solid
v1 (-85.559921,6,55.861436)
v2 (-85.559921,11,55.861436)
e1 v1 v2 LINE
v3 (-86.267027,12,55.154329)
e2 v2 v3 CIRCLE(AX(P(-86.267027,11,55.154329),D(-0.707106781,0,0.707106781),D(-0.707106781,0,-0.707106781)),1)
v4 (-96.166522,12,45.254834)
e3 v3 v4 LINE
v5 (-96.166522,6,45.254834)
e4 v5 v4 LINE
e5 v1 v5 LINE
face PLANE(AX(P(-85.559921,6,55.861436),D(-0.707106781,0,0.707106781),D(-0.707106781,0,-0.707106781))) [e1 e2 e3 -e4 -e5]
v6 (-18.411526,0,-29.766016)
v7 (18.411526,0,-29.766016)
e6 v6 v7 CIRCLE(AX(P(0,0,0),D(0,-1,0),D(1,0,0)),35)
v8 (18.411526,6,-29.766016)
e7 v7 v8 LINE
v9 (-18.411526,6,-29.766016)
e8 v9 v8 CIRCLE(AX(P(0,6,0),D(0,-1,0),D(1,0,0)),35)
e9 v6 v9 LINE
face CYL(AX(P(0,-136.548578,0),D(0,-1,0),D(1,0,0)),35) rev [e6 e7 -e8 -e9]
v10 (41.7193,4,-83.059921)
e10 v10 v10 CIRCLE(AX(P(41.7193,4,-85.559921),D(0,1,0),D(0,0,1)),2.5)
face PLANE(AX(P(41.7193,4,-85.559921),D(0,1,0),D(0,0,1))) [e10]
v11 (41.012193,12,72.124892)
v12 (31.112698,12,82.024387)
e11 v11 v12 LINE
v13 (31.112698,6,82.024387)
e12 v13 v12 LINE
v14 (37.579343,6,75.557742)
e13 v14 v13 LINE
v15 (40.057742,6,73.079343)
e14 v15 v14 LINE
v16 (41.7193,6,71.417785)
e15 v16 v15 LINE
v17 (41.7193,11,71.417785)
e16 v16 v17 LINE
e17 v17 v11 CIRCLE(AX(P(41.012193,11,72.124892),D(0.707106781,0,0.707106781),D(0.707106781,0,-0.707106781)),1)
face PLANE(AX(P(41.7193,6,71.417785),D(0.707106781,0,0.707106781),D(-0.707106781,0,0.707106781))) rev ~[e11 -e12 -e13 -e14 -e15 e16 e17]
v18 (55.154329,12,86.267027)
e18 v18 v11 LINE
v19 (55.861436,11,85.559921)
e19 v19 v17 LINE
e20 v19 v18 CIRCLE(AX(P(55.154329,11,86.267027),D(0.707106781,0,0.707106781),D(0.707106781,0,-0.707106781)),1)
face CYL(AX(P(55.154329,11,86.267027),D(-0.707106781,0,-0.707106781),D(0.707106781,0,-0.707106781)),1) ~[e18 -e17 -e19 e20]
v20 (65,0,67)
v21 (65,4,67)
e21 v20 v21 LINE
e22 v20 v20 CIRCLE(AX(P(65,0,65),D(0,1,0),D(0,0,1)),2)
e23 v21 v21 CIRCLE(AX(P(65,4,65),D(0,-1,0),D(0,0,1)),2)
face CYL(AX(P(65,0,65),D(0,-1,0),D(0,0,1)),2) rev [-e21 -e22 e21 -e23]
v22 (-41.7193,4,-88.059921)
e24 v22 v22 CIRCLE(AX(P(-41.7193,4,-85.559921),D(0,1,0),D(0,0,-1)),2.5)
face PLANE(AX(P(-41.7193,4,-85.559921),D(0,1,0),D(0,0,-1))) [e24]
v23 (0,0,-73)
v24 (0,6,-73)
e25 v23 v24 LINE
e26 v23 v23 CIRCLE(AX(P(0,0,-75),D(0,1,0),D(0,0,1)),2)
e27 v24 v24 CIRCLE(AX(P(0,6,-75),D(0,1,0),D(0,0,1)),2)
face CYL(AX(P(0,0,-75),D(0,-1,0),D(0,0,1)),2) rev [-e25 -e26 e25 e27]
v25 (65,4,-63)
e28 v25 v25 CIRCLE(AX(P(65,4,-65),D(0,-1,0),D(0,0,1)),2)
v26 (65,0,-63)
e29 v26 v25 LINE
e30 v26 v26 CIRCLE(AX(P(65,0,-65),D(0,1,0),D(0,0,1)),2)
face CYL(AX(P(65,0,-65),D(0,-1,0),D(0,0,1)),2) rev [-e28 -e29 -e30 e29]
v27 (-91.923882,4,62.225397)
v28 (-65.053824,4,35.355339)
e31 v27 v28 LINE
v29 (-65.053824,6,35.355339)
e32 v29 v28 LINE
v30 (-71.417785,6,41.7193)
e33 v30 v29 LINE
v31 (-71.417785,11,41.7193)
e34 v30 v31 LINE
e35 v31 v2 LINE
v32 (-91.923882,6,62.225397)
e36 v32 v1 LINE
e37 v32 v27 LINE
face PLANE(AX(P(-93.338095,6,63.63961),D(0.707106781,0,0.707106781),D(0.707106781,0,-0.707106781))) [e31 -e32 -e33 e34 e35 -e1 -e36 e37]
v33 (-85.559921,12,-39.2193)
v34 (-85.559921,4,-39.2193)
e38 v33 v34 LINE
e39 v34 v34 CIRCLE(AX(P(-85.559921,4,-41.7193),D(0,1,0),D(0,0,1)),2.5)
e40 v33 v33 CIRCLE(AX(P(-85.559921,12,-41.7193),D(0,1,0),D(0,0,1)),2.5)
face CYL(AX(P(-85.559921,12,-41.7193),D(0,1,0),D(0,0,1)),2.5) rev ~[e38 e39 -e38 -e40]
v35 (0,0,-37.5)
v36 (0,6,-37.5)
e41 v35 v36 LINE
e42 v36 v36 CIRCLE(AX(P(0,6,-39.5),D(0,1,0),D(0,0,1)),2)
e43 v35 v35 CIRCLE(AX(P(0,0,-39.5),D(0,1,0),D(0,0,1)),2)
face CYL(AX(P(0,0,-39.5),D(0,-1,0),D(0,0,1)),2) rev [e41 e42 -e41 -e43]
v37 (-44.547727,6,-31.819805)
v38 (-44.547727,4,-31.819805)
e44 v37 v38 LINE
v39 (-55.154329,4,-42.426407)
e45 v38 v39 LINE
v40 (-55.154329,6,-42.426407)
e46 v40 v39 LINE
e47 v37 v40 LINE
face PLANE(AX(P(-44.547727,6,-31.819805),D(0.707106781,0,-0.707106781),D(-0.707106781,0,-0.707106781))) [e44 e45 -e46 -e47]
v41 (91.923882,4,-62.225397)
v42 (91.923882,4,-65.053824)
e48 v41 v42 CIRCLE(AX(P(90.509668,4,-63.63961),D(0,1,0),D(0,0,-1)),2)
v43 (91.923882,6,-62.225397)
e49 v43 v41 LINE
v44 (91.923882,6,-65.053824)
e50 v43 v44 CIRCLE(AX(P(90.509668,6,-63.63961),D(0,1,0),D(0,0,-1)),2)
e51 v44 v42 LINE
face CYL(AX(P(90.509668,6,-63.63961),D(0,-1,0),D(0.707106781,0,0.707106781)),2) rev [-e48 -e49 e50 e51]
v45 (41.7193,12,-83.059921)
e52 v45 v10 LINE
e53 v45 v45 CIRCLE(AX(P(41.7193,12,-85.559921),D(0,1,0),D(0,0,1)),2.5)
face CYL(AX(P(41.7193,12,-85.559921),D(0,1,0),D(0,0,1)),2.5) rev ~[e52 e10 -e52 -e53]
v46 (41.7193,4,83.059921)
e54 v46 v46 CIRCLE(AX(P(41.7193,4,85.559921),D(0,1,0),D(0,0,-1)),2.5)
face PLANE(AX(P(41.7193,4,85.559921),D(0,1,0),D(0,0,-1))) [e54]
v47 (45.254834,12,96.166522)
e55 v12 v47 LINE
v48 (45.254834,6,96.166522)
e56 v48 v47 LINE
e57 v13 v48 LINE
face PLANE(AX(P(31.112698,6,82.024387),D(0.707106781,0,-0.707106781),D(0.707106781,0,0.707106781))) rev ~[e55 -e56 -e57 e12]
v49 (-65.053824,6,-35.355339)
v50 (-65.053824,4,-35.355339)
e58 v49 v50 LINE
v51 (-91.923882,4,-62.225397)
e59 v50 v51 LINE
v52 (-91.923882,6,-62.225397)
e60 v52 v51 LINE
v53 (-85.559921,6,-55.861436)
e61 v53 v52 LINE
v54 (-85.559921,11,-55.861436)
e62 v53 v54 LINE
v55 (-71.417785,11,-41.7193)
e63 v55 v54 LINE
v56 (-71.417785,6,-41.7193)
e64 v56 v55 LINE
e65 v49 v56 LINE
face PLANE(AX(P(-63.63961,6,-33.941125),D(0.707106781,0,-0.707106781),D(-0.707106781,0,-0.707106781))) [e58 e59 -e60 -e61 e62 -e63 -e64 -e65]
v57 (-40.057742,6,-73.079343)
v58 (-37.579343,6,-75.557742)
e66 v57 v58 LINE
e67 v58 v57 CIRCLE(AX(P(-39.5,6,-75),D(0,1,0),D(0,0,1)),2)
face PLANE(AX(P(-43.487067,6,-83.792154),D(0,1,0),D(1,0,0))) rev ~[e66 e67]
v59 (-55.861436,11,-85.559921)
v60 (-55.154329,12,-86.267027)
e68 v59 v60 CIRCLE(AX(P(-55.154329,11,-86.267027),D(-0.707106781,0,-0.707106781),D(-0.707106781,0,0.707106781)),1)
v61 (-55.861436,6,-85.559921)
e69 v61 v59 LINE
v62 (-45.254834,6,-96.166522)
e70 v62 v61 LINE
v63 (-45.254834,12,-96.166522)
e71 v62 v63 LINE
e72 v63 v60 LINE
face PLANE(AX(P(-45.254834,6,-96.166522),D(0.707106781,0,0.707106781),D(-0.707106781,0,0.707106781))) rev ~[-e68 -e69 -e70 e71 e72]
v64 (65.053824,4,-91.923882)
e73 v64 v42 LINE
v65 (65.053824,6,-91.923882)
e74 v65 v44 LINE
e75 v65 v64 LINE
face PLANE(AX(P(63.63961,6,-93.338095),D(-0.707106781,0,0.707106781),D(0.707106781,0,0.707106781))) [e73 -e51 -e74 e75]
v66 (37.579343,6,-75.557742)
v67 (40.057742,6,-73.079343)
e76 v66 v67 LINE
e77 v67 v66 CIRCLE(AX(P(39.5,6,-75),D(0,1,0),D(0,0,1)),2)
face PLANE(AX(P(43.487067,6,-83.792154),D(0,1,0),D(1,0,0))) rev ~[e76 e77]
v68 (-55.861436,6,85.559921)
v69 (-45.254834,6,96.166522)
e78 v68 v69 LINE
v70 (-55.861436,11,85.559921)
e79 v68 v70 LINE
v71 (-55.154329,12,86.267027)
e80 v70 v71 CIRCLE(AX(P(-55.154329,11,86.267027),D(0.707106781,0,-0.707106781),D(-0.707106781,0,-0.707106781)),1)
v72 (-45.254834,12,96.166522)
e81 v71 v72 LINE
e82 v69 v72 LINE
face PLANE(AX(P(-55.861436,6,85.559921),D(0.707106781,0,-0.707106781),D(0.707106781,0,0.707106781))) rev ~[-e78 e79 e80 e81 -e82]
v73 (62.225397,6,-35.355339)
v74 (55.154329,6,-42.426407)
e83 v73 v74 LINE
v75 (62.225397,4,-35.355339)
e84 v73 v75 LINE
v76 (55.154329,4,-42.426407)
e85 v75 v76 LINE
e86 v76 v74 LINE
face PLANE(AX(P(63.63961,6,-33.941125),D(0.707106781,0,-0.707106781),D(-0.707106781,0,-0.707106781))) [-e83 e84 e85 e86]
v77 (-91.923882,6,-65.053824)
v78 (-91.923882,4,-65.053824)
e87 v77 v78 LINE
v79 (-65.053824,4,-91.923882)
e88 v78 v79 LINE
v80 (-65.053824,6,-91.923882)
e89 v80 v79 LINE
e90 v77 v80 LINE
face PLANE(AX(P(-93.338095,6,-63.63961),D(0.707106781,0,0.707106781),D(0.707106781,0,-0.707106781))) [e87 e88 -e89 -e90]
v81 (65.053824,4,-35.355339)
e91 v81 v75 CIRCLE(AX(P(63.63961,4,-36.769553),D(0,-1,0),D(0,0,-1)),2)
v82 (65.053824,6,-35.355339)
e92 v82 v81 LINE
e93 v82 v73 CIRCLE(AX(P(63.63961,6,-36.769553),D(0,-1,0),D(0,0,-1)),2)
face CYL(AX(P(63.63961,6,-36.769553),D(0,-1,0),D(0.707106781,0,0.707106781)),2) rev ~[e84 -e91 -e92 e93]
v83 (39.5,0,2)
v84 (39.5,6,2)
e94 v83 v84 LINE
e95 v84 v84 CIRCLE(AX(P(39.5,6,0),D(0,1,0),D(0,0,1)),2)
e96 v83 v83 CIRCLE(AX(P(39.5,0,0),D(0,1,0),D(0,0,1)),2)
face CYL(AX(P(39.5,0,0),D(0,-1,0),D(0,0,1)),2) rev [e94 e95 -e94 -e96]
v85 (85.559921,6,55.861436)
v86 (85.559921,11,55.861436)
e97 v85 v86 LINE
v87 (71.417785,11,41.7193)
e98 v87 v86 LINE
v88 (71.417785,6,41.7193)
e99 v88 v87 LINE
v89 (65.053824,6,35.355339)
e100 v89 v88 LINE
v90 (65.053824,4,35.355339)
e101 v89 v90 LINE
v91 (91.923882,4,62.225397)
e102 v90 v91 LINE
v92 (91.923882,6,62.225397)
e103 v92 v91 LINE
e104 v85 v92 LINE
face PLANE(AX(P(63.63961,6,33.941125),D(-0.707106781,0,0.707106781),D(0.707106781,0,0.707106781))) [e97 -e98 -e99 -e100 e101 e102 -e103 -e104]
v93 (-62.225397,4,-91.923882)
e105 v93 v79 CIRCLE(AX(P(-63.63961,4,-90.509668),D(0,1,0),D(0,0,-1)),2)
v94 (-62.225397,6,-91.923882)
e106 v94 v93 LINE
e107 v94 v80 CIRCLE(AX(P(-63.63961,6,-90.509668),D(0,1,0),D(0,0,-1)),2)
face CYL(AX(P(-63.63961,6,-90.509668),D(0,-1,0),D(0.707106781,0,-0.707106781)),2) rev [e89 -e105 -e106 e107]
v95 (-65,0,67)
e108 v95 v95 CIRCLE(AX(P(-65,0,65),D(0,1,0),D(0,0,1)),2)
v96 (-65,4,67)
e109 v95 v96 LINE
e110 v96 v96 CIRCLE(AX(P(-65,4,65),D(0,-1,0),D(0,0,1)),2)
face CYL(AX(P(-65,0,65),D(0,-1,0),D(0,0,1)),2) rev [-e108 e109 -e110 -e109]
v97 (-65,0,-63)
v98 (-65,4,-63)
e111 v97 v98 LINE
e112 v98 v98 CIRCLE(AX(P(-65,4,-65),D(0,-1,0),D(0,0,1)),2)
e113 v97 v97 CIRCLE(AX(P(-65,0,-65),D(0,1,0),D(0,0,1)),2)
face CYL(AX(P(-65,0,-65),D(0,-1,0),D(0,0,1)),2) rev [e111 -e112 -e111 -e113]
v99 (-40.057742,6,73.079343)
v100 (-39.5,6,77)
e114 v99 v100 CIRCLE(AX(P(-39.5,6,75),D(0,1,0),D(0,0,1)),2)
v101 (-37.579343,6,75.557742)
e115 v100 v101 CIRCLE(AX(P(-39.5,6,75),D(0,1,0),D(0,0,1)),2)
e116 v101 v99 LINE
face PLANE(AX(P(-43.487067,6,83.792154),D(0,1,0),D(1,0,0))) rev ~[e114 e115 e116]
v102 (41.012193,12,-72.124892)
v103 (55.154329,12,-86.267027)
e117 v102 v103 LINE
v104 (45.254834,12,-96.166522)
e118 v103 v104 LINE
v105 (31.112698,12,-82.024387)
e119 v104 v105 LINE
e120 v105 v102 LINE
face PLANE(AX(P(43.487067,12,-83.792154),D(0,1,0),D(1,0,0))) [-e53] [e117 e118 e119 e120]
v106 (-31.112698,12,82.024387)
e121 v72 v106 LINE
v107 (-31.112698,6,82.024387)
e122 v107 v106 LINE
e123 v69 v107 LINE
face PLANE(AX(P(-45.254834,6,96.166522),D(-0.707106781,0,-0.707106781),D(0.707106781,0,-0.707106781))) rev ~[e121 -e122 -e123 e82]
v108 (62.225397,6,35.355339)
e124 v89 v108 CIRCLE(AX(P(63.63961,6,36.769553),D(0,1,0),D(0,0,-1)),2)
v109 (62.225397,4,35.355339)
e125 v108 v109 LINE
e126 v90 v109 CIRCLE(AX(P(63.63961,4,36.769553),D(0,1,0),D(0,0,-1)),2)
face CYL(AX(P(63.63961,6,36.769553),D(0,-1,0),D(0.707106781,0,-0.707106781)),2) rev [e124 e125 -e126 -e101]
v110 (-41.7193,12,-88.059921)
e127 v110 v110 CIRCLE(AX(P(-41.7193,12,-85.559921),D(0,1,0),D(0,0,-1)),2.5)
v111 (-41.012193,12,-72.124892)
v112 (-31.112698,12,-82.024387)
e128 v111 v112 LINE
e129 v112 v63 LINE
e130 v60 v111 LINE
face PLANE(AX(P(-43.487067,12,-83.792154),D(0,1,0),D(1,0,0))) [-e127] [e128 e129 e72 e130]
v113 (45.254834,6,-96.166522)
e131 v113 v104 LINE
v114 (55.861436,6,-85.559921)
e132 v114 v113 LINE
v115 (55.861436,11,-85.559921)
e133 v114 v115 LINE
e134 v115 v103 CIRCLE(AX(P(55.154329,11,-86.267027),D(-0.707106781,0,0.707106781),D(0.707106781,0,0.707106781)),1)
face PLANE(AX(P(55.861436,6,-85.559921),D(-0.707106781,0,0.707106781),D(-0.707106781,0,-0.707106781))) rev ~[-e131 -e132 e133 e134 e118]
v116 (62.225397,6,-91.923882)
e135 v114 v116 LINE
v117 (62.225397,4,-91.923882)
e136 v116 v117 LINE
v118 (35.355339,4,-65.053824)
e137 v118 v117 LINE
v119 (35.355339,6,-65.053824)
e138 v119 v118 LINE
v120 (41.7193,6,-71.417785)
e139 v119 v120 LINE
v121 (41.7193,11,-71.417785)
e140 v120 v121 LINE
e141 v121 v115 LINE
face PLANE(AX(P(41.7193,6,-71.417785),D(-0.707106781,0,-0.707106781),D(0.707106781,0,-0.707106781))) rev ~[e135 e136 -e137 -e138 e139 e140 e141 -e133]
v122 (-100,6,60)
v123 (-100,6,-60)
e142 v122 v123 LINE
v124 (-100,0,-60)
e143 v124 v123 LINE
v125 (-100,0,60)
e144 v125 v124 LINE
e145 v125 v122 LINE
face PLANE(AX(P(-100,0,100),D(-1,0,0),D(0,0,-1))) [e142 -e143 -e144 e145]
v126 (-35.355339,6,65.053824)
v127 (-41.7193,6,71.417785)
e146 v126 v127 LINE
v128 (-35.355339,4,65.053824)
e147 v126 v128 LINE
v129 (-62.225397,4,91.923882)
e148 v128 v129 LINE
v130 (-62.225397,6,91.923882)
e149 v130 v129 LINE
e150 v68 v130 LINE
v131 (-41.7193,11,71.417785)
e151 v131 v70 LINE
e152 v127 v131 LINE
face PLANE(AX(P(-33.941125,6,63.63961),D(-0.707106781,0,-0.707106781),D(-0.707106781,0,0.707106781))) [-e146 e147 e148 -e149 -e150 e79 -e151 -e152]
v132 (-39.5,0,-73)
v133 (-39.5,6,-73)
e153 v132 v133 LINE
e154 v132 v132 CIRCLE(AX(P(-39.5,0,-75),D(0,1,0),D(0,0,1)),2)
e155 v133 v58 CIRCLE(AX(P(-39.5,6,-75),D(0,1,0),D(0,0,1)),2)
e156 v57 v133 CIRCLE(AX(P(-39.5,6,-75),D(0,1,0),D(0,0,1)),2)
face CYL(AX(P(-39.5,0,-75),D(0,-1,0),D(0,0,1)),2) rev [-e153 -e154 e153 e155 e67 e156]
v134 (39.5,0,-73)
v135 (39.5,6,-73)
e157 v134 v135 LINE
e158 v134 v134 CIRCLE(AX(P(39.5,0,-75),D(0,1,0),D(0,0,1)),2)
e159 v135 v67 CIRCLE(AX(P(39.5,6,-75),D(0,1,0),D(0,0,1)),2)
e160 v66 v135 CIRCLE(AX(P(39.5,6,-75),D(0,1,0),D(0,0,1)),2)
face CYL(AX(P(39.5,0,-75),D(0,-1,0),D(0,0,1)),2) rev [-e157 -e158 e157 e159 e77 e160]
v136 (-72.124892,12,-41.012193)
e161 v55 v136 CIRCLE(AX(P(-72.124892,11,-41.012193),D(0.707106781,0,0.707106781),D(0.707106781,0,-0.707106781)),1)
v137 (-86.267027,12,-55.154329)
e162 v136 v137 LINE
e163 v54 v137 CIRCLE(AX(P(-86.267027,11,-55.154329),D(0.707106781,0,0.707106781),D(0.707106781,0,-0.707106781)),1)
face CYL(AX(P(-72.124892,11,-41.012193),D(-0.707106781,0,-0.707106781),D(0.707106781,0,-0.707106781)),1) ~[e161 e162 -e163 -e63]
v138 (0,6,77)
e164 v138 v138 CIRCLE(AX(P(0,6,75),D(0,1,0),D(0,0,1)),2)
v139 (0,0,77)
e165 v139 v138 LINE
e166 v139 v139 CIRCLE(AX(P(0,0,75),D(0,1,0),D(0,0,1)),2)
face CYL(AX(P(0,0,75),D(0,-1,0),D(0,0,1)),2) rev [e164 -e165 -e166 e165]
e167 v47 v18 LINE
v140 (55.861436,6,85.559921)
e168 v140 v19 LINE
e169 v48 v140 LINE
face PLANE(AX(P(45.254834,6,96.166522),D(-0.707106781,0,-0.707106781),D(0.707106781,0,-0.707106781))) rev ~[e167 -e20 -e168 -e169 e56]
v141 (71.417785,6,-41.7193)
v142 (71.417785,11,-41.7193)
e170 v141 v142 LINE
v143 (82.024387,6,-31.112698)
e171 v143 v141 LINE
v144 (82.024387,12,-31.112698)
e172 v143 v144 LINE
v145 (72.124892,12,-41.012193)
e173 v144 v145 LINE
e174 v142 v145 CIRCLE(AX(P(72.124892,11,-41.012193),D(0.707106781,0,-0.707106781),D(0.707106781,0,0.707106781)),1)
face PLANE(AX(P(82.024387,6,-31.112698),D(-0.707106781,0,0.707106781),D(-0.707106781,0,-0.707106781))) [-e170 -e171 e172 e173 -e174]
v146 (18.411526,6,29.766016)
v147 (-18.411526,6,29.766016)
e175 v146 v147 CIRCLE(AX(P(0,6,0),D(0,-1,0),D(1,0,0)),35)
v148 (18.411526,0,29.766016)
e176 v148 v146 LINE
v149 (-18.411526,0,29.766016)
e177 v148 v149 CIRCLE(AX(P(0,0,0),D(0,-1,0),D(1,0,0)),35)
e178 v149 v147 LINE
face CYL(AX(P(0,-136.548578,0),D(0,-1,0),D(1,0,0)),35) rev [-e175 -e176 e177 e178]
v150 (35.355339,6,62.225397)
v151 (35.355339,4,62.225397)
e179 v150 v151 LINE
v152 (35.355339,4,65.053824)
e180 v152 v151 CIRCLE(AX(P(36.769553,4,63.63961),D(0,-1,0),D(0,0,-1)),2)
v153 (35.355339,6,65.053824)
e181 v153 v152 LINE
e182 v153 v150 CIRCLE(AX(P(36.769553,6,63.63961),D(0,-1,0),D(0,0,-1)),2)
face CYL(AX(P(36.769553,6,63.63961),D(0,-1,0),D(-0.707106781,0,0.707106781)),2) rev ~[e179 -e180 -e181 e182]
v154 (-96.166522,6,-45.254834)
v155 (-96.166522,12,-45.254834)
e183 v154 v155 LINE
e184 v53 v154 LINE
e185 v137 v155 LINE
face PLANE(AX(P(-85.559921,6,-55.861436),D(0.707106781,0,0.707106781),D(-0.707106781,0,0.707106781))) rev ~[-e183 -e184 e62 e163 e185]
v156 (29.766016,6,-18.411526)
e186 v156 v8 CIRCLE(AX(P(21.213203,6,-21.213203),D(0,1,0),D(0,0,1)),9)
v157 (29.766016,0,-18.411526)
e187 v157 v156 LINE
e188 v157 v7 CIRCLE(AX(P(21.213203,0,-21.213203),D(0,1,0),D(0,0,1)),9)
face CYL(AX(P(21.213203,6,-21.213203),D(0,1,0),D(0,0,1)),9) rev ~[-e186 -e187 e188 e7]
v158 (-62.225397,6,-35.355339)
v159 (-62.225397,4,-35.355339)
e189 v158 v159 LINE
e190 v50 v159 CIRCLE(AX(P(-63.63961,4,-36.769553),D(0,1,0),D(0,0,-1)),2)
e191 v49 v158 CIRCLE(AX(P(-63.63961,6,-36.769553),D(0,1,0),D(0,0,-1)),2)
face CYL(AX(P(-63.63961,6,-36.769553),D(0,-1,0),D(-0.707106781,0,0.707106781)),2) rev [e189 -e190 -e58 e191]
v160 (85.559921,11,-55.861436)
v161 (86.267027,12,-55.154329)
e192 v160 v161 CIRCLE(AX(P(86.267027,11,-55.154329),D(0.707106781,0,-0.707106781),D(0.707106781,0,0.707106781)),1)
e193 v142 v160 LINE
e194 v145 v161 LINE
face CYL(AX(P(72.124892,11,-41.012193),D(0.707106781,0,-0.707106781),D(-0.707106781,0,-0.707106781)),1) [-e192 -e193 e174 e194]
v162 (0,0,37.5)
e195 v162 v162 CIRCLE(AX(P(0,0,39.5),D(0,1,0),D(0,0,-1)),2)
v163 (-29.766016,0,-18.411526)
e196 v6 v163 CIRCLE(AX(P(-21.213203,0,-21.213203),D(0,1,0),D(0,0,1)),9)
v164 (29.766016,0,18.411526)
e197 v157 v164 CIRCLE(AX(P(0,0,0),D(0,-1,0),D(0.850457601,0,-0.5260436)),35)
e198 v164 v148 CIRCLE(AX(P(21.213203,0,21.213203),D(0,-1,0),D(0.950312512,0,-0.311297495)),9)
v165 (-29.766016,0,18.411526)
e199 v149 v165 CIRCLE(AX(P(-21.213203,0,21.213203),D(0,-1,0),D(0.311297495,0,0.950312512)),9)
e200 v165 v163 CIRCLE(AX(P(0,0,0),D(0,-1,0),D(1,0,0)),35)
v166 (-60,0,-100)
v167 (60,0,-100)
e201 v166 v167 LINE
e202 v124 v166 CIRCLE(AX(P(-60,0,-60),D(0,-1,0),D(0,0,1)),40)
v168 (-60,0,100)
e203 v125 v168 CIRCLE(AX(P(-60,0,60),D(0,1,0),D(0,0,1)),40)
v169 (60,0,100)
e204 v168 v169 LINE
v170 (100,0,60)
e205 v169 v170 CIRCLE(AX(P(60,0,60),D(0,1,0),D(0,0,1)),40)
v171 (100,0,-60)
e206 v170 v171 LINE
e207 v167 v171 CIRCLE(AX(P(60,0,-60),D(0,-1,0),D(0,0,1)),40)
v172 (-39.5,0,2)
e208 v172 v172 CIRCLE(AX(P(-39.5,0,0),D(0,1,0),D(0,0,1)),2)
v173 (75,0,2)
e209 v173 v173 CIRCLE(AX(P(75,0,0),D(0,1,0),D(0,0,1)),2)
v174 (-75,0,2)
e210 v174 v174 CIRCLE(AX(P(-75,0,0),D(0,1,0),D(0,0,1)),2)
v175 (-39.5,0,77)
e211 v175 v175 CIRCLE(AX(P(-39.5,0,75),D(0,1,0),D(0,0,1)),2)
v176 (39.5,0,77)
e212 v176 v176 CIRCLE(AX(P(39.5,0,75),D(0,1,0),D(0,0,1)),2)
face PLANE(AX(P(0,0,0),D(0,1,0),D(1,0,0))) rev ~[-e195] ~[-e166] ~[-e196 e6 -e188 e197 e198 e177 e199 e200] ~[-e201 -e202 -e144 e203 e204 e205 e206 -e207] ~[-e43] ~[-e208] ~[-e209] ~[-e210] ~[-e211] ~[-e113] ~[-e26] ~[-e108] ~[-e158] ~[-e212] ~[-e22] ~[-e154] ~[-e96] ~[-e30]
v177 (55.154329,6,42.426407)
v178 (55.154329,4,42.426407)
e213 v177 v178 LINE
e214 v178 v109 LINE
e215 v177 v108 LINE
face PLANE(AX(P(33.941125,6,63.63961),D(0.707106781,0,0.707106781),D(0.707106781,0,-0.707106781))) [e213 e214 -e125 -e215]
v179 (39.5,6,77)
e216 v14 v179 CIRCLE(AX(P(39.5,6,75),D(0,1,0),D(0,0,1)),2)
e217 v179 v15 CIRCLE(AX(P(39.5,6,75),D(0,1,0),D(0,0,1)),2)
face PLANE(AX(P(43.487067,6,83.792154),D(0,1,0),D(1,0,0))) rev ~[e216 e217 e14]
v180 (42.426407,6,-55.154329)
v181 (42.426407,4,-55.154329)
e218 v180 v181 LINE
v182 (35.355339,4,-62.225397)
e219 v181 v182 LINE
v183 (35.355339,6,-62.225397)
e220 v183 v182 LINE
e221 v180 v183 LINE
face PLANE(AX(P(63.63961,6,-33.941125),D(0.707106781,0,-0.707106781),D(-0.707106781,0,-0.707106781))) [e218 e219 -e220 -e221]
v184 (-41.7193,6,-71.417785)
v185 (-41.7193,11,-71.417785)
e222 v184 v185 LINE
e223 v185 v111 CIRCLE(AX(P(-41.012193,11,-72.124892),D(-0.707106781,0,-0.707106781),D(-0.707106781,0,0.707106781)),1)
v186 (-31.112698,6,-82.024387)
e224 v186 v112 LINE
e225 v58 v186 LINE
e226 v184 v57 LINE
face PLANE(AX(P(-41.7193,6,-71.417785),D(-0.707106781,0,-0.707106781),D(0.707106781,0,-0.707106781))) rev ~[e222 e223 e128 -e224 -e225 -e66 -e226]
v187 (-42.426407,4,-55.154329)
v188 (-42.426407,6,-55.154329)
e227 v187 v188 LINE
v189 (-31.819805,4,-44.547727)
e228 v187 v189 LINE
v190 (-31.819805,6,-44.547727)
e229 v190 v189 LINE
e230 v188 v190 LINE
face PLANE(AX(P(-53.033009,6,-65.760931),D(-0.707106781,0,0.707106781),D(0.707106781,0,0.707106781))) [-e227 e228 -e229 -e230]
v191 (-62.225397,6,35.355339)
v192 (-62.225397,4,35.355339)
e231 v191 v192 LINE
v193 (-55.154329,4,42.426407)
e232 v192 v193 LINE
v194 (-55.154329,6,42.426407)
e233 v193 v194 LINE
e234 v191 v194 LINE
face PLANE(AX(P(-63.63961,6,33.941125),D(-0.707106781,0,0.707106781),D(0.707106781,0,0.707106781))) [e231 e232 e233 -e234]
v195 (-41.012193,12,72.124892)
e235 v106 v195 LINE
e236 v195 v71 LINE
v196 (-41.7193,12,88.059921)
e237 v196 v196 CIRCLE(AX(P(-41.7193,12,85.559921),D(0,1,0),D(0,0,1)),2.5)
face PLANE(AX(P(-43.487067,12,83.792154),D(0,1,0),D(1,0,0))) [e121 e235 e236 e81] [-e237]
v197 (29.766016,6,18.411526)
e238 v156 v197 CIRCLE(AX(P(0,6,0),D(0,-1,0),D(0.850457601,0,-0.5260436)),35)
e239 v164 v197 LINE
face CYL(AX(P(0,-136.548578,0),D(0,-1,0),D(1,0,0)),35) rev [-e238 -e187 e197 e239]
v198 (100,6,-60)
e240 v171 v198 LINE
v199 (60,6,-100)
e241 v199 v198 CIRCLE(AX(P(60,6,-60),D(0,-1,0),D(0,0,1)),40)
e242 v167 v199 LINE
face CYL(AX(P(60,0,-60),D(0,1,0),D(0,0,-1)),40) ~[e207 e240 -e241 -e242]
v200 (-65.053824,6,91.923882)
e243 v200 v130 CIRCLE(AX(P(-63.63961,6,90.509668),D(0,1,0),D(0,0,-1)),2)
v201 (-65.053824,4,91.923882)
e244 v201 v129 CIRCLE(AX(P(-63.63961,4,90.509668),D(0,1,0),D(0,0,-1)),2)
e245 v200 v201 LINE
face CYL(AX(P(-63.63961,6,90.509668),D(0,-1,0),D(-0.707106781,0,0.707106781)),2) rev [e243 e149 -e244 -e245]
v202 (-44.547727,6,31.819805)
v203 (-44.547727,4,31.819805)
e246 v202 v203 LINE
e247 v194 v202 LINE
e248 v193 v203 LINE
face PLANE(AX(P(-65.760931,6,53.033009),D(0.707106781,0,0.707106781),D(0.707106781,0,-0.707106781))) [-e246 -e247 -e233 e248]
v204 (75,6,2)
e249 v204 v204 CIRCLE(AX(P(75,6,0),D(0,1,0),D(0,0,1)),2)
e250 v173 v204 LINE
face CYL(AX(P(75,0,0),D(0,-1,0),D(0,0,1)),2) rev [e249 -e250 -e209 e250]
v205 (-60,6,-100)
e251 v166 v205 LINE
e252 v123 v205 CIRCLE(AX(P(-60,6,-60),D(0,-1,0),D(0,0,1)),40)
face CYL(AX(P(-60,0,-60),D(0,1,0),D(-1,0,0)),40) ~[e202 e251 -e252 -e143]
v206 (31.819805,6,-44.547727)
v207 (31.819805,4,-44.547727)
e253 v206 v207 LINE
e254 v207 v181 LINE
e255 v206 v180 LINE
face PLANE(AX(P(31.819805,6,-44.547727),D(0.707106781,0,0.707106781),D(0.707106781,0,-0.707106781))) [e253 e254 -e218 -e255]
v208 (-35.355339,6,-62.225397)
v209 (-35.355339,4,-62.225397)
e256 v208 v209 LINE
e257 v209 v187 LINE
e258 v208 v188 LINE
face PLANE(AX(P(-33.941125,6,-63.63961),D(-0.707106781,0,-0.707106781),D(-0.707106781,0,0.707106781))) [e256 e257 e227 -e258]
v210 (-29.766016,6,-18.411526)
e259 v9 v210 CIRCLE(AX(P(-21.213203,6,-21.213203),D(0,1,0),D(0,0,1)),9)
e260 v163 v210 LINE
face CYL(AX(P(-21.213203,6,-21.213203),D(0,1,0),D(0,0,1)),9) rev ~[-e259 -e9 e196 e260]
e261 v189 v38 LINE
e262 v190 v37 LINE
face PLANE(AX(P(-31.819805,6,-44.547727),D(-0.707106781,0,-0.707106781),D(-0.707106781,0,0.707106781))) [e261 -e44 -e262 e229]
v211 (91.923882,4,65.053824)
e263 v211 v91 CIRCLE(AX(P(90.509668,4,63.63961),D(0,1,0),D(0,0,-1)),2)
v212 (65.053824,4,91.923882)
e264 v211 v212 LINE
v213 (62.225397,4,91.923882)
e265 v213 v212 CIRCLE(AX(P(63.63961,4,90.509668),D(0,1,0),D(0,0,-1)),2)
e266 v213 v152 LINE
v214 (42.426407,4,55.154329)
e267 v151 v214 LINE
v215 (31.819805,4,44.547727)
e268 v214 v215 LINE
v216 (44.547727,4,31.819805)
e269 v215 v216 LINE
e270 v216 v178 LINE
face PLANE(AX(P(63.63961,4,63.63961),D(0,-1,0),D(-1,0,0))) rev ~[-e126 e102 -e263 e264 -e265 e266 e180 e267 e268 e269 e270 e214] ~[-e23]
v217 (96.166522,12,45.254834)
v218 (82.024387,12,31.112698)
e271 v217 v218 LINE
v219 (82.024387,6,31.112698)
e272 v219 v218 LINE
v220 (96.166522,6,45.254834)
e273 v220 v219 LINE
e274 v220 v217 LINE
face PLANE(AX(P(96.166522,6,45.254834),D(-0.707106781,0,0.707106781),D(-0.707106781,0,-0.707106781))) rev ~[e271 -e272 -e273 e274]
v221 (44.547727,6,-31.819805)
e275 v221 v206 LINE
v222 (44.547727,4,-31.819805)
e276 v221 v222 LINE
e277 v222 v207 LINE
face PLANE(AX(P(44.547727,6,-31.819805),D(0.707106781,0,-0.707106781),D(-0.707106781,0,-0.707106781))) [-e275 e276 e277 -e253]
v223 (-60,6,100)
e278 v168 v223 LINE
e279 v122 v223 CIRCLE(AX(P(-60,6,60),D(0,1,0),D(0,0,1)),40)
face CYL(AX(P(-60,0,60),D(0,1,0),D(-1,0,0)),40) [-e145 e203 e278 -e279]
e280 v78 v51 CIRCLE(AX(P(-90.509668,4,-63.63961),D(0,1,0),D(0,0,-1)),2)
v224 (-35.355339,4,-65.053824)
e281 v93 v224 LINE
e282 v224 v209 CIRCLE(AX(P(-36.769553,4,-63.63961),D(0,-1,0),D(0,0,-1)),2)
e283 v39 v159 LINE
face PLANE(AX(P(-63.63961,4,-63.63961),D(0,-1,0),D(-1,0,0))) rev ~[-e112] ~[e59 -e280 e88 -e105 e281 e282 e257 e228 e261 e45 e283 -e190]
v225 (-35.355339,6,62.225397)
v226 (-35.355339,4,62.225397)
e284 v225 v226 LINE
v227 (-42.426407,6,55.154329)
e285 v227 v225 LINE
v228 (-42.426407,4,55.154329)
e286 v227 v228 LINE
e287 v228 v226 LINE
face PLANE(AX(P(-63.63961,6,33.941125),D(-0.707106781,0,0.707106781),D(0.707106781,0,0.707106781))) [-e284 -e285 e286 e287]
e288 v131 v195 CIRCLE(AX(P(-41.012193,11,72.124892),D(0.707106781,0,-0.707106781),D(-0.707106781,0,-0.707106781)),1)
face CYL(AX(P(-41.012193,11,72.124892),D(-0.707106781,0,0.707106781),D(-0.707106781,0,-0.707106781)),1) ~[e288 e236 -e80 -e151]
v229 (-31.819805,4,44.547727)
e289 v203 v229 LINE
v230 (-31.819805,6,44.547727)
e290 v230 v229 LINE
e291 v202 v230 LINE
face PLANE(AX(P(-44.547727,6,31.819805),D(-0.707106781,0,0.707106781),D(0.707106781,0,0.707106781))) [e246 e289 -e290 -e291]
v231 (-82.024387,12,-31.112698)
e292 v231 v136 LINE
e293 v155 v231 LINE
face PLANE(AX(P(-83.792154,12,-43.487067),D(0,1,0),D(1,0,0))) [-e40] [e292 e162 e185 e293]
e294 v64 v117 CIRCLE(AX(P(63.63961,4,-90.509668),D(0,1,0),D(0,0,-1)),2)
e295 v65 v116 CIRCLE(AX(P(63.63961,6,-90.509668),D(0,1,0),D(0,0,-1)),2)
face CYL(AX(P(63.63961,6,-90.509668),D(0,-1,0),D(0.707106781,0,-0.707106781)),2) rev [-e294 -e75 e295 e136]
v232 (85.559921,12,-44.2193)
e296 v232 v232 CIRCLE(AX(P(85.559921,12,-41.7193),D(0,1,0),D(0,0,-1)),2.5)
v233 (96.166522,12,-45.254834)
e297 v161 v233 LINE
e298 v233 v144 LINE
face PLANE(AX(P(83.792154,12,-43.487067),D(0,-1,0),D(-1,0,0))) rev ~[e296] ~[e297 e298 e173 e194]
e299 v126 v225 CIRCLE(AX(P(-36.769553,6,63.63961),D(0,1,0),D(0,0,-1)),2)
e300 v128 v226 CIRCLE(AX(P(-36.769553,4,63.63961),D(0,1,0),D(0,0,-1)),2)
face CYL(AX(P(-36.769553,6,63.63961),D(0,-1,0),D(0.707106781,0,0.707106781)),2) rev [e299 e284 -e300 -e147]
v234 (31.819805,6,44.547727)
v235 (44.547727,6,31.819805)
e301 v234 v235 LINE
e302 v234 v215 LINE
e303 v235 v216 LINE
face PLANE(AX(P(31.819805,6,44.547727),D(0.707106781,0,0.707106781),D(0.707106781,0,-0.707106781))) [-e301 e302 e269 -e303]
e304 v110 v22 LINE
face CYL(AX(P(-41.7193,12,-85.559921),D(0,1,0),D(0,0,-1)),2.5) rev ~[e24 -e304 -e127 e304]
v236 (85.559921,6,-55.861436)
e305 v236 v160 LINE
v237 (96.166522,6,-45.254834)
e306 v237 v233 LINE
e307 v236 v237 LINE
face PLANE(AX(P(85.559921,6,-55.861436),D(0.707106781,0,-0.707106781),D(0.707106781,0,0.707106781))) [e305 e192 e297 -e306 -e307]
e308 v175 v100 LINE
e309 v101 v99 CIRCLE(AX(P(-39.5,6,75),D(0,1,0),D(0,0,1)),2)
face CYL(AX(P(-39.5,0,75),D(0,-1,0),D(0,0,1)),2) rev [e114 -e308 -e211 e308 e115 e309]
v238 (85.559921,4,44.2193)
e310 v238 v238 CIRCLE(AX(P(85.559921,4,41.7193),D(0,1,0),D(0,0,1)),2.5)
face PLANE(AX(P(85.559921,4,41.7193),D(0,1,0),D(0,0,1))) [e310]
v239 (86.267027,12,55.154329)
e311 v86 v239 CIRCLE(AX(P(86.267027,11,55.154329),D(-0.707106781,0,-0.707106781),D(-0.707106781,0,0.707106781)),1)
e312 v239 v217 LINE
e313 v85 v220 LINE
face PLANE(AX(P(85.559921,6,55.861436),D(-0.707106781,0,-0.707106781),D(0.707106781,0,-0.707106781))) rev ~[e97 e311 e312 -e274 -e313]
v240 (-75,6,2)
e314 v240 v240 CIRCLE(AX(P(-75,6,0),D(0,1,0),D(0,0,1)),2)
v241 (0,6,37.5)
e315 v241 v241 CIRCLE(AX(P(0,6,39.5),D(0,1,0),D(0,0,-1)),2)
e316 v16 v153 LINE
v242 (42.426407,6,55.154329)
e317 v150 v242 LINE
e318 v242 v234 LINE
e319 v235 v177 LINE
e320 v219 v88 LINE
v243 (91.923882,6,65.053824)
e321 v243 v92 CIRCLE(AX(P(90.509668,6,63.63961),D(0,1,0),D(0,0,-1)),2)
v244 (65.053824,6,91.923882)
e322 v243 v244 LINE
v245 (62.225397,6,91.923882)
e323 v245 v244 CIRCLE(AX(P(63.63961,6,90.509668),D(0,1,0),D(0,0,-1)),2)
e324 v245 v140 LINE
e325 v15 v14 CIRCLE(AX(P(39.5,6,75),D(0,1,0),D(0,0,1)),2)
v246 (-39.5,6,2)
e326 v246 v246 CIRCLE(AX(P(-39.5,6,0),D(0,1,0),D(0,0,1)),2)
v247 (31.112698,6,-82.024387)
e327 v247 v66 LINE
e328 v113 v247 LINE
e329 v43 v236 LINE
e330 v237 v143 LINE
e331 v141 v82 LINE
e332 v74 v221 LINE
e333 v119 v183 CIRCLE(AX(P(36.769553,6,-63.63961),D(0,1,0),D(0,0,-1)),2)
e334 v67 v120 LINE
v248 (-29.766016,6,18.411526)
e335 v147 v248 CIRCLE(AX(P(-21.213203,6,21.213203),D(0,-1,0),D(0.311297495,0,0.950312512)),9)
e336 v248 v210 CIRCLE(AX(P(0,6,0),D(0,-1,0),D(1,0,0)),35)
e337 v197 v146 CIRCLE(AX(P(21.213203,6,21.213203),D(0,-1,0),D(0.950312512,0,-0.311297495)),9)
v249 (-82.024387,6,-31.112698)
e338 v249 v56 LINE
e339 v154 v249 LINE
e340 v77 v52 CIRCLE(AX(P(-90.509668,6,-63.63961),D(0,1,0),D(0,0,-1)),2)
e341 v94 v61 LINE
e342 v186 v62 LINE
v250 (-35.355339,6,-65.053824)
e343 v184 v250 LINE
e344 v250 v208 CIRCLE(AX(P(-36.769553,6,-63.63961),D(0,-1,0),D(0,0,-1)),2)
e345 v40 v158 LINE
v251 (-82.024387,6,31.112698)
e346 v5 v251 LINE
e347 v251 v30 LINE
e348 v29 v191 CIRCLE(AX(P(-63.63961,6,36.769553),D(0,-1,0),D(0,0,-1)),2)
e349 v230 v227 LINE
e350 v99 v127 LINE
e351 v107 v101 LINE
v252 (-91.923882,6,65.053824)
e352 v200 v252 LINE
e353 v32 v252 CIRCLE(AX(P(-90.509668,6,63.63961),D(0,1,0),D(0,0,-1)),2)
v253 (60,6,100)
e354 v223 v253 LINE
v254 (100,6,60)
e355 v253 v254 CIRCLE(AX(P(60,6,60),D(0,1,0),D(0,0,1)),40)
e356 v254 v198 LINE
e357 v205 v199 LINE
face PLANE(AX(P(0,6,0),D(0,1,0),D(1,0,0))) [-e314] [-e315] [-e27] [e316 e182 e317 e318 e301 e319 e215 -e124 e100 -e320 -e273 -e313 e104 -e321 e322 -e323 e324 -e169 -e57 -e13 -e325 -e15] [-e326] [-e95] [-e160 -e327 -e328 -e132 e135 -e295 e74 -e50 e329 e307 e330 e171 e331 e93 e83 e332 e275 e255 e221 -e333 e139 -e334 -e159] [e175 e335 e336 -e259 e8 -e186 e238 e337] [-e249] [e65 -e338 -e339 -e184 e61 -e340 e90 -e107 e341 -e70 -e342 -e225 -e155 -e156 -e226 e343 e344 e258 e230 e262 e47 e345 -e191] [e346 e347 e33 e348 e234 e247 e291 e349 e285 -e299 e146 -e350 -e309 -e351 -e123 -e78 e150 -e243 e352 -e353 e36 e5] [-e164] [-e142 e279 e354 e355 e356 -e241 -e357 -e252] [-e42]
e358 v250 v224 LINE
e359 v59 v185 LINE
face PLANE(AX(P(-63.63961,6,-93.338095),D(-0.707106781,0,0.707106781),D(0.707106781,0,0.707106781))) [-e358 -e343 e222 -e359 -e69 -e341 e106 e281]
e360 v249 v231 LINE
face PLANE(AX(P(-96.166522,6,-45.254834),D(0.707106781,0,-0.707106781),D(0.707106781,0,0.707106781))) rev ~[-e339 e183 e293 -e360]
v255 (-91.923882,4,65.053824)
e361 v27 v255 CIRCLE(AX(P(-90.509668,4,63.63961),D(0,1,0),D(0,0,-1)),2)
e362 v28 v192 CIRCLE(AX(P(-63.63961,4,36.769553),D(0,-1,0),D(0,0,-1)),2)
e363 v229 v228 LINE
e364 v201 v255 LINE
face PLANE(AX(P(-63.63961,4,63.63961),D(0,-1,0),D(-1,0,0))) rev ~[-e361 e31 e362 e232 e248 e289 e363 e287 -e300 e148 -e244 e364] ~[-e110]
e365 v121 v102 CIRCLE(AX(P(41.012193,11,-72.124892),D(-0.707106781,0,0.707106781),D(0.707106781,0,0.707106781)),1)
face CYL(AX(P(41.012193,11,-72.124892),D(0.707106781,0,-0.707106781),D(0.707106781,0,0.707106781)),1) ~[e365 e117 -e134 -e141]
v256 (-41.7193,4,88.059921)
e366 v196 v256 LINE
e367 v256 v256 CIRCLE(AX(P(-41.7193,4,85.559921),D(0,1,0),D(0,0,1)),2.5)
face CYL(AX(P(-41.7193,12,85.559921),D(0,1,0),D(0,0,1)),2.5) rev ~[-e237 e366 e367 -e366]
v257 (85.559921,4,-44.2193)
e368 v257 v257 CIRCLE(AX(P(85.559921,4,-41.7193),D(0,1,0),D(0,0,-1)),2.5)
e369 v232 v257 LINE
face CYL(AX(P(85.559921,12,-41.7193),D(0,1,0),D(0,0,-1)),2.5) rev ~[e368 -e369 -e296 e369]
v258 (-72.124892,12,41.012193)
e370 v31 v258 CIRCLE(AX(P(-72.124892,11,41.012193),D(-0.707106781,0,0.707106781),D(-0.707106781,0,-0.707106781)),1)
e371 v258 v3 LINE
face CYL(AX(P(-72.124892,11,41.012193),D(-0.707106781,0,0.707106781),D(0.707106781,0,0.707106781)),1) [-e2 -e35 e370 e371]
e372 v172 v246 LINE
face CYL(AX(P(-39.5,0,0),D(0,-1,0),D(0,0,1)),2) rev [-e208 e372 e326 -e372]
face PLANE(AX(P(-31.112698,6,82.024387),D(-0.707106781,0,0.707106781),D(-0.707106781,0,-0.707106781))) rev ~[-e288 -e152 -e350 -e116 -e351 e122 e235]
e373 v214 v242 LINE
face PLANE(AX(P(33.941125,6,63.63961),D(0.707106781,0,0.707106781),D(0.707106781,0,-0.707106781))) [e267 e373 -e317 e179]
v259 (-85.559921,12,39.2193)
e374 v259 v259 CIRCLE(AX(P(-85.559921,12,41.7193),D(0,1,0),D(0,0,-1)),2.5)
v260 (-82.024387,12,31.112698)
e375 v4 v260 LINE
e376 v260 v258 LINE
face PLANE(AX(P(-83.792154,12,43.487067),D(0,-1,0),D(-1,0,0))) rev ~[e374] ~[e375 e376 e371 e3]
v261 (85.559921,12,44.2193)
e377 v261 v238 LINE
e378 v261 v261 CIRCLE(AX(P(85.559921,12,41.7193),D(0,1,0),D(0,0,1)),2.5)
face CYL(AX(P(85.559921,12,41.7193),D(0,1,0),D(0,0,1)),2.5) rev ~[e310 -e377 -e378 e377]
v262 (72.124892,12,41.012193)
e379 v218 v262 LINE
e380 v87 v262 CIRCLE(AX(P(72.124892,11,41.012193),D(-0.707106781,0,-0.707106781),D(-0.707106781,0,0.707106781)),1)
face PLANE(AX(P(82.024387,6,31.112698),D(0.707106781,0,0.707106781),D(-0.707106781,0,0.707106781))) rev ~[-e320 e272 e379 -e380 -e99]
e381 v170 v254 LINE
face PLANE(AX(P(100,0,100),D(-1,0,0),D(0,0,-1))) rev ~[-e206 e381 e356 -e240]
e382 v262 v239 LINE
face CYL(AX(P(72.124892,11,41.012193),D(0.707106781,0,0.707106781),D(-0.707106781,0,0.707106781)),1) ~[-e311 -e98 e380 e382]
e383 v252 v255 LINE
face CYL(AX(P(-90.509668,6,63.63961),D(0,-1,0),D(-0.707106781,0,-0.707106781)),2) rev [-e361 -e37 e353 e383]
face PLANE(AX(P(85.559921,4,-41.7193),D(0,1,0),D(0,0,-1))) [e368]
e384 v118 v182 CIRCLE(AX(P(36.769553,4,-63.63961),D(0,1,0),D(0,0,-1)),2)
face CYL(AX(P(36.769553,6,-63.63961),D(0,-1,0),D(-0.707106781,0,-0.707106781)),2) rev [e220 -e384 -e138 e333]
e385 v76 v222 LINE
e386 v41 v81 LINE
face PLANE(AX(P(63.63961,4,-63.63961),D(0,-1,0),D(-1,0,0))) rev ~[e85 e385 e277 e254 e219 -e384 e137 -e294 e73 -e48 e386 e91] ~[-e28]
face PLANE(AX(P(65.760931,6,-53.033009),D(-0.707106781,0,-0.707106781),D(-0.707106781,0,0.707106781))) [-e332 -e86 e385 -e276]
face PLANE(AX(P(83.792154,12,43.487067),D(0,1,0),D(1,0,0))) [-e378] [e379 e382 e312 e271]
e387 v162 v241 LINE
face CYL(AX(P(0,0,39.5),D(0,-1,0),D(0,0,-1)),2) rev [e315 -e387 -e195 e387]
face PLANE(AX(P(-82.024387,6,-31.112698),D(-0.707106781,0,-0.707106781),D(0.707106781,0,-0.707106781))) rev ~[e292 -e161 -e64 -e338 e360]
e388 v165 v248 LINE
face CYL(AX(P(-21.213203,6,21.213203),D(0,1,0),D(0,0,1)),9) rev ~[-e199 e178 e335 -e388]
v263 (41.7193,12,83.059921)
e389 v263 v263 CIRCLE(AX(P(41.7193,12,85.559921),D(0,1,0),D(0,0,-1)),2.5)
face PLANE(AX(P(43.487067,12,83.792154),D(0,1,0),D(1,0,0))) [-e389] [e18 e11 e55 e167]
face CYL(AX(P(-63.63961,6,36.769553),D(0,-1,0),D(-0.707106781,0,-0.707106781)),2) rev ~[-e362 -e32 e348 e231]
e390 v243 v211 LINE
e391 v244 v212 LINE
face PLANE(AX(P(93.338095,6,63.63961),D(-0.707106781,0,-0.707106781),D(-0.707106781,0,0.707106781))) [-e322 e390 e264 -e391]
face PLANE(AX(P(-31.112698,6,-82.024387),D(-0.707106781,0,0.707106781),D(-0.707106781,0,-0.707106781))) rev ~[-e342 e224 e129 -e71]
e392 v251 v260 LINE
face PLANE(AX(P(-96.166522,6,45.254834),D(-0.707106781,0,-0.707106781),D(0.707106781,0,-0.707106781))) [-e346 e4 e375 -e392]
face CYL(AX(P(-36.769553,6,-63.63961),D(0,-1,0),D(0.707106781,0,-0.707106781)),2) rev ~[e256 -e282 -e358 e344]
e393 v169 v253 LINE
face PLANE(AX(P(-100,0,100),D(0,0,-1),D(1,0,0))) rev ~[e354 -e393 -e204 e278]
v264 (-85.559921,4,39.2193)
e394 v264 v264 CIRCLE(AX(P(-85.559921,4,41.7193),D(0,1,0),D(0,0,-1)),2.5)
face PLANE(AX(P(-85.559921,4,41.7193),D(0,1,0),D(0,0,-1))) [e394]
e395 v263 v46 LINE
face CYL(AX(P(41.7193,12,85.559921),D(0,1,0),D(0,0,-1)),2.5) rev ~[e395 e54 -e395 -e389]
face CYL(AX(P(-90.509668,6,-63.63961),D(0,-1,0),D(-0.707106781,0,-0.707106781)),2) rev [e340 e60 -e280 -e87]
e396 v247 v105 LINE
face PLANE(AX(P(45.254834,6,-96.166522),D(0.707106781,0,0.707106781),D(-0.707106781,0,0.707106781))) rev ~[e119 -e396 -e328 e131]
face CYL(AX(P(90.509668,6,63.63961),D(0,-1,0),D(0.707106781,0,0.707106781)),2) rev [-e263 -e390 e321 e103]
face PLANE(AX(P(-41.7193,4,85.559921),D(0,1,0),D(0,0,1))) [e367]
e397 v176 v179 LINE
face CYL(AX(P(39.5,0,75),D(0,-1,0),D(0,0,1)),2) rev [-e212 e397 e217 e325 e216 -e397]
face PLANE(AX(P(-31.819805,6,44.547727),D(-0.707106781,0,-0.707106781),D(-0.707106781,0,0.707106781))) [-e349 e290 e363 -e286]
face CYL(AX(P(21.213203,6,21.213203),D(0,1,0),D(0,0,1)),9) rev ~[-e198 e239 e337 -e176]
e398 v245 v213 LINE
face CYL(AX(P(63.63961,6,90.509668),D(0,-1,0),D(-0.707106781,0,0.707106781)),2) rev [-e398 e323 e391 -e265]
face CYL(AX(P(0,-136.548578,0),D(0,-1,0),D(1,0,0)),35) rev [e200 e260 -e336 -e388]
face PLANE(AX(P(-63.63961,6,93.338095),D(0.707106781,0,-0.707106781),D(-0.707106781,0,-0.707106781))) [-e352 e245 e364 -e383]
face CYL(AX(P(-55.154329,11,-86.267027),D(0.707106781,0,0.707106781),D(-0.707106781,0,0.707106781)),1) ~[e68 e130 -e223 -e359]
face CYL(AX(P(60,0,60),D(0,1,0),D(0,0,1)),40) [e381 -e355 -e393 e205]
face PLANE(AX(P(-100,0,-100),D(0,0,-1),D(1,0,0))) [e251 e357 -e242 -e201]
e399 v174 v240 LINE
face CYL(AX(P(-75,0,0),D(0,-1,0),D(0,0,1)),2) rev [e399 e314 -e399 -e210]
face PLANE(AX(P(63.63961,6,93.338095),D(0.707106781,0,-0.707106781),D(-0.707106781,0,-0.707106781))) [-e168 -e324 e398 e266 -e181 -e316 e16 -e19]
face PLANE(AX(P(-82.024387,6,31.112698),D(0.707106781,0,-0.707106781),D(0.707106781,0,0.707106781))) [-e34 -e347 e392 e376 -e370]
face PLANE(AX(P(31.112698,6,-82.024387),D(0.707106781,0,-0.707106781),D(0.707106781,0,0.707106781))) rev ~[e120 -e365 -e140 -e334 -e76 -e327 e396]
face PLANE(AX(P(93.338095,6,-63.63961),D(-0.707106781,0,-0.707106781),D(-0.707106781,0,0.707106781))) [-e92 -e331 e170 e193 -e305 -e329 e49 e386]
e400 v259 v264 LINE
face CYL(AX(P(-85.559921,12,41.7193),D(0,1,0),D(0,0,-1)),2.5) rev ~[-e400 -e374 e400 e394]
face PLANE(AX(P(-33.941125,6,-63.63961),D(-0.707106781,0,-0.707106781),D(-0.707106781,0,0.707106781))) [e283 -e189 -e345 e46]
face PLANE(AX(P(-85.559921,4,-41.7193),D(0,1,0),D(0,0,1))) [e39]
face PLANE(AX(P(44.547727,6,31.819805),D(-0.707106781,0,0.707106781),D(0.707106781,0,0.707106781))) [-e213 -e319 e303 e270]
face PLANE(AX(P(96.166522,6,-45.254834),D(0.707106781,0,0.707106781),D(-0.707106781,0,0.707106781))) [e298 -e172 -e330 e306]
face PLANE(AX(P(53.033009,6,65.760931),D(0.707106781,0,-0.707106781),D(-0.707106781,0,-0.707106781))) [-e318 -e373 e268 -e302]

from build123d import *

# Parameters (mm, degrees)
SKETCH_1_W               = 200
SKETCH_1_H               = 200
SKETCH_1_R               = 2
EXTRUDE_1_DEPTH          = 6
CUT_EXTRUDE_1_DEPTH      = 2
FILLET_1_R               = 2
EXTRUDE_3_DEPTH          = 6
FILLET_4_R               = 40
SKETCH_4_R               = 2.5
CUT_EXTRUDE_2_DEPTH      = 8
SKETCH_7_R               = 9
SKETCH_7_W               = 18
SKETCH_7_H               = 8
SKETCH_7_W_2             = 8
SKETCH_7_H_2             = 18
CUT_EXTRUDE_3_DEPTH      = 6
CUT_EXTRUDE_4_DEPTH      = 2
FILLET_6_R               = 1
CUT_EXTRUDE_5_DEPTH      = 142.548578234
CUT_EXTRUDE_5_DEPTH_BACK = 142.548578234
SKETCH_9_R               = 35


with BuildPart() as part:
    # Эскиз1 → Бобышка-Вытянуть1 (new body)
    with BuildSketch(Plane(origin=(0, 0, 0), x_dir=(1, 0, 0), z_dir=(0, 1, 0))):
        Rectangle(SKETCH_1_W, SKETCH_1_H)
        with Locations(Location((-39.5, 75, 0), (0, 0, 270))):
            Circle(SKETCH_1_R, mode=Mode.SUBTRACT)
        with Locations(Location((39.5, 75, 0), (0, 0, 270))):
            Circle(SKETCH_1_R, mode=Mode.SUBTRACT)
        with Locations(Location((39.5, -75, 0), (0, 0, 270))):
            Circle(SKETCH_1_R, mode=Mode.SUBTRACT)
        with Locations(Location((-39.5, -75, 0), (0, 0, 270))):
            Circle(SKETCH_1_R, mode=Mode.SUBTRACT)
        with Locations(Location((39.5, 0, 0), (0, 0, 270))):
            Circle(SKETCH_1_R, mode=Mode.SUBTRACT)
        with Locations(Location((-39.5, 0, 0), (0, 0, 270))):
            Circle(SKETCH_1_R, mode=Mode.SUBTRACT)
        with Locations(Location((0, 39.5, 0), (0, 0, 270))):
            Circle(SKETCH_1_R, mode=Mode.SUBTRACT)
        with Locations(Location((0, -39.5, 0), (0, 0, 90))):
            Circle(SKETCH_1_R, mode=Mode.SUBTRACT)
        with Locations(Location((-75, 0, 0), (0, 0, 270))):
            Circle(SKETCH_1_R, mode=Mode.SUBTRACT)
        with Locations(Location((0, 75, 0), (0, 0, 270))):
            Circle(SKETCH_1_R, mode=Mode.SUBTRACT)
        with Locations(Location((75, 0, 0), (0, 0, 270))):
            Circle(SKETCH_1_R, mode=Mode.SUBTRACT)
        with Locations(Location((0, -75, 0), (0, 0, 270))):
            Circle(SKETCH_1_R, mode=Mode.SUBTRACT)
        with Locations(Location((-65, 65, 0), (0, 0, 270))):
            Circle(SKETCH_1_R, mode=Mode.SUBTRACT)
        with Locations(Location((65, 65, 0), (0, 0, 270))):
            Circle(SKETCH_1_R, mode=Mode.SUBTRACT)
        with Locations(Location((65, -65, 0), (0, 0, 270))):
            Circle(SKETCH_1_R, mode=Mode.SUBTRACT)
        with Locations(Location((-65, -65, 0), (0, 0, 270))):
            Circle(SKETCH_1_R, mode=Mode.SUBTRACT)
    extrude(amount=EXTRUDE_1_DEPTH)

    # Эскиз2 → Вырез-Вытянуть1 (cut)
    with BuildSketch(Plane(origin=(0, 6, 0), x_dir=(1, 0, 0), z_dir=(0, 1, 0))):
        Polygon((63.639610307, 33.941125497), (33.941125497, 63.639610307), (63.639610307, 93.338095117), (93.338095117, 63.639610307), align=None)
        Polygon((33.941125497, -63.639610307), (63.639610307, -33.941125497), (93.338095117, -63.639610307), (63.639610307, -93.338095117), align=None)
        Polygon((-63.639610307, -33.941125497), (-33.941125497, -63.639610307), (-63.639610307, -93.338095117), (-93.338095117, -63.639610307), align=None)
        Polygon((-33.941125497, 63.639610307), (-63.639610307, 33.941125497), (-93.338095117, 63.639610307), (-63.639610307, 93.338095117), align=None)
    extrude(amount=-CUT_EXTRUDE_1_DEPTH, mode=Mode.SUBTRACT)

    # Скругление1
    fillet_1_edges = [part.edges().sort_by_distance(p)[0] for p in [
        (-63.639610307, 5, 93.338095117),
        (-63.639610307, 5, -93.338095117),
        (-33.941125497, 5, -63.639610307),
        (-63.639610307, 5, -33.941125497),
        (-93.338095117, 5, -63.639610307),
        (63.639610307, 5, 93.338095117),
        (33.941125497, 5, 63.639610307),
        (63.639610307, 5, 33.941125497),
        (93.338095117, 5, 63.639610307),
        (93.338095117, 5, -63.639610307),
        (63.639610307, 5, -33.941125497),
        (33.941125497, 5, -63.639610307),
        (63.639610307, 5, -93.338095117),
        (-93.338095117, 5, 63.639610307),
        (-63.639610307, 5, 33.941125497),
        (-33.941125497, 5, 63.639610307),
    ]]
    fillet(fillet_1_edges, radius=FILLET_1_R)

    # Эскиз3 → Бобышка-Вытянуть3 (add)
    with BuildSketch(Plane(origin=(0, 6, 0), x_dir=(1, 0, 0), z_dir=(0, 1, 0))):
        Polygon((41.71930009, 71.4177849), (55.861435714, 85.559920524), (45.254833996, 96.166522241), (31.112698372, 82.024386618), align=None)
        Polygon((85.559920524, 55.861435714), (96.166522241, 45.254833996), (82.024386618, 31.112698372), (71.4177849, 41.71930009), align=None)
        Polygon((71.4177849, -41.71930009), (85.559920524, -55.861435714), (96.166522241, -45.254833996), (82.024386618, -31.112698372), align=None)
        Polygon((31.112698372, -82.024386618), (45.254833996, -96.166522241), (55.861435714, -85.559920524), (41.71930009, -71.4177849), align=None)
        Polygon((-41.71930009, -71.4177849), (-55.861435714, -85.559920524), (-45.254833996, -96.166522241), (-31.112698372, -82.024386618), align=None)
        Polygon((-85.559920524, -55.861435714), (-96.166522241, -45.254833996), (-82.024386618, -31.112698372), (-71.4177849, -41.71930009), align=None)
        Polygon((-71.4177849, 41.71930009), (-85.559920524, 55.861435714), (-96.166522241, 45.254833996), (-82.024386618, 31.112698372), align=None)
        Polygon((-31.112698372, 82.024386618), (-45.254833996, 96.166522241), (-55.861435714, 85.559920524), (-41.71930009, 71.4177849), align=None)
    extrude(amount=EXTRUDE_3_DEPTH)

    # Скругление4
    fillet_4_edges = [part.edges().sort_by_distance(p)[0] for p in [
        (100, 3, 100),
        (-100, 3, 100),
        (-100, 3, -100),
        (100, 3, -100),
    ]]
    fillet(fillet_4_edges, radius=FILLET_4_R)

    # Эскиз4 → Вырез-Вытянуть2 (cut)
    with BuildSketch(Plane(origin=(0, 12, 0), x_dir=(1, 0, 0), z_dir=(0, 1, 0))):
        with Locations(Location((41.71930009, 85.559920524, 0), (0, 0, 270))):
            Circle(SKETCH_4_R)
        with Locations(Location((85.559920524, 41.71930009, 0), (0, 0, 90))):
            Circle(SKETCH_4_R)
        with Locations(Location((85.559920524, -41.71930009, 0), (0, 0, 270))):
            Circle(SKETCH_4_R)
        with Locations(Location((41.71930009, -85.559920524, 0), (0, 0, 90))):
            Circle(SKETCH_4_R)
        with Locations(Location((-41.71930009, -85.559920524, 0), (0, 0, 270))):
            Circle(SKETCH_4_R)
        with Locations(Location((-85.559920524, -41.71930009, 0), (0, 0, 90))):
            Circle(SKETCH_4_R)
        with Locations(Location((-85.559920524, 41.71930009, 0), (0, 0, 270))):
            Circle(SKETCH_4_R)
        with Locations(Location((-41.71930009, 85.559920524, 0), (0, 0, 90))):
            Circle(SKETCH_4_R)
    extrude(amount=-CUT_EXTRUDE_2_DEPTH, mode=Mode.SUBTRACT)

    # Эскиз7 → Вырез-Вытянуть3 (cut)
    with BuildSketch(Plane(origin=(0, 6, 0), x_dir=(1, 0, 0), z_dir=(0, 1, 0))):
        with Locations(Location((21.213203436, 21.213203436, 0), (0, 0, 270))):
            Circle(SKETCH_7_R)
        with Locations(Location((21.213203436, -21.213203436, 0), (0, 0, 270))):
            Circle(SKETCH_7_R)
        with Locations(Location((-21.213203436, -21.213203436, 0), (0, 0, 270))):
            Circle(SKETCH_7_R)
        with Locations(Location((-21.213203436, 21.213203436, 0), (0, 0, 270))):
            Circle(SKETCH_7_R)
        with Locations((24, 0)):
            Rectangle(SKETCH_7_W, SKETCH_7_H)
        with Locations((0, 24)):
            Rectangle(SKETCH_7_W_2, SKETCH_7_H_2)
        with Locations((0, -24)):
            Rectangle(SKETCH_7_W_2, SKETCH_7_H_2)
        with Locations((-24, 0)):
            Rectangle(SKETCH_7_W, SKETCH_7_H)
    extrude(amount=-CUT_EXTRUDE_3_DEPTH, mode=Mode.SUBTRACT)

    # Эскиз8 → Вырез-Вытянуть4 (cut)
    with BuildSketch(Plane(origin=(0, 6, 0), x_dir=(1, 0, 0), z_dir=(0, 1, 0))):
        Polygon((44.547727215, 31.819805153), (31.819805153, 44.547727215), (53.033008589, 65.76093065), (65.76093065, 53.033008589), align=None)
        Polygon((65.76093065, -53.033008589), (53.033008589, -65.76093065), (31.819805153, -44.547727215), (44.547727215, -31.819805153), align=None)
        Polygon((-44.547727215, -31.819805153), (-31.819805153, -44.547727215), (-53.033008589, -65.76093065), (-65.76093065, -53.033008589), align=None)
        Polygon((-65.76093065, 53.033008589), (-53.033008589, 65.76093065), (-31.819805153, 44.547727215), (-44.547727215, 31.819805153), align=None)
    extrude(amount=-CUT_EXTRUDE_4_DEPTH, mode=Mode.SUBTRACT)

    # Скругление6
    fillet_6_edges = [part.edges().sort_by_distance(p)[0] for p in [
        (48.790367902, 12, -78.488852712),
        (78.488852712, 12, -48.790367902),
        (78.488852712, 12, 48.790367902),
        (48.790367902, 12, 78.488852712),
        (-48.790367902, 12, 78.488852712),
        (-78.488852712, 12, 48.790367902),
        (-78.488852712, 12, -48.790367902),
        (-48.790367902, 12, -78.488852712),
    ]]
    fillet(fillet_6_edges, radius=FILLET_6_R)

    # Эскиз9 → Вырез-Вытянуть5 (cut, two sides: drawn at the far end of the back side and taken through both)
    with BuildSketch(Plane(origin=(0, 6, 0), x_dir=(1, 0, 0), z_dir=(0, 1, 0)).offset(-CUT_EXTRUDE_5_DEPTH_BACK)):
        Circle(SKETCH_9_R)
    extrude(amount=CUT_EXTRUDE_5_DEPTH + CUT_EXTRUDE_5_DEPTH_BACK, mode=Mode.SUBTRACT)


solid = part.part
